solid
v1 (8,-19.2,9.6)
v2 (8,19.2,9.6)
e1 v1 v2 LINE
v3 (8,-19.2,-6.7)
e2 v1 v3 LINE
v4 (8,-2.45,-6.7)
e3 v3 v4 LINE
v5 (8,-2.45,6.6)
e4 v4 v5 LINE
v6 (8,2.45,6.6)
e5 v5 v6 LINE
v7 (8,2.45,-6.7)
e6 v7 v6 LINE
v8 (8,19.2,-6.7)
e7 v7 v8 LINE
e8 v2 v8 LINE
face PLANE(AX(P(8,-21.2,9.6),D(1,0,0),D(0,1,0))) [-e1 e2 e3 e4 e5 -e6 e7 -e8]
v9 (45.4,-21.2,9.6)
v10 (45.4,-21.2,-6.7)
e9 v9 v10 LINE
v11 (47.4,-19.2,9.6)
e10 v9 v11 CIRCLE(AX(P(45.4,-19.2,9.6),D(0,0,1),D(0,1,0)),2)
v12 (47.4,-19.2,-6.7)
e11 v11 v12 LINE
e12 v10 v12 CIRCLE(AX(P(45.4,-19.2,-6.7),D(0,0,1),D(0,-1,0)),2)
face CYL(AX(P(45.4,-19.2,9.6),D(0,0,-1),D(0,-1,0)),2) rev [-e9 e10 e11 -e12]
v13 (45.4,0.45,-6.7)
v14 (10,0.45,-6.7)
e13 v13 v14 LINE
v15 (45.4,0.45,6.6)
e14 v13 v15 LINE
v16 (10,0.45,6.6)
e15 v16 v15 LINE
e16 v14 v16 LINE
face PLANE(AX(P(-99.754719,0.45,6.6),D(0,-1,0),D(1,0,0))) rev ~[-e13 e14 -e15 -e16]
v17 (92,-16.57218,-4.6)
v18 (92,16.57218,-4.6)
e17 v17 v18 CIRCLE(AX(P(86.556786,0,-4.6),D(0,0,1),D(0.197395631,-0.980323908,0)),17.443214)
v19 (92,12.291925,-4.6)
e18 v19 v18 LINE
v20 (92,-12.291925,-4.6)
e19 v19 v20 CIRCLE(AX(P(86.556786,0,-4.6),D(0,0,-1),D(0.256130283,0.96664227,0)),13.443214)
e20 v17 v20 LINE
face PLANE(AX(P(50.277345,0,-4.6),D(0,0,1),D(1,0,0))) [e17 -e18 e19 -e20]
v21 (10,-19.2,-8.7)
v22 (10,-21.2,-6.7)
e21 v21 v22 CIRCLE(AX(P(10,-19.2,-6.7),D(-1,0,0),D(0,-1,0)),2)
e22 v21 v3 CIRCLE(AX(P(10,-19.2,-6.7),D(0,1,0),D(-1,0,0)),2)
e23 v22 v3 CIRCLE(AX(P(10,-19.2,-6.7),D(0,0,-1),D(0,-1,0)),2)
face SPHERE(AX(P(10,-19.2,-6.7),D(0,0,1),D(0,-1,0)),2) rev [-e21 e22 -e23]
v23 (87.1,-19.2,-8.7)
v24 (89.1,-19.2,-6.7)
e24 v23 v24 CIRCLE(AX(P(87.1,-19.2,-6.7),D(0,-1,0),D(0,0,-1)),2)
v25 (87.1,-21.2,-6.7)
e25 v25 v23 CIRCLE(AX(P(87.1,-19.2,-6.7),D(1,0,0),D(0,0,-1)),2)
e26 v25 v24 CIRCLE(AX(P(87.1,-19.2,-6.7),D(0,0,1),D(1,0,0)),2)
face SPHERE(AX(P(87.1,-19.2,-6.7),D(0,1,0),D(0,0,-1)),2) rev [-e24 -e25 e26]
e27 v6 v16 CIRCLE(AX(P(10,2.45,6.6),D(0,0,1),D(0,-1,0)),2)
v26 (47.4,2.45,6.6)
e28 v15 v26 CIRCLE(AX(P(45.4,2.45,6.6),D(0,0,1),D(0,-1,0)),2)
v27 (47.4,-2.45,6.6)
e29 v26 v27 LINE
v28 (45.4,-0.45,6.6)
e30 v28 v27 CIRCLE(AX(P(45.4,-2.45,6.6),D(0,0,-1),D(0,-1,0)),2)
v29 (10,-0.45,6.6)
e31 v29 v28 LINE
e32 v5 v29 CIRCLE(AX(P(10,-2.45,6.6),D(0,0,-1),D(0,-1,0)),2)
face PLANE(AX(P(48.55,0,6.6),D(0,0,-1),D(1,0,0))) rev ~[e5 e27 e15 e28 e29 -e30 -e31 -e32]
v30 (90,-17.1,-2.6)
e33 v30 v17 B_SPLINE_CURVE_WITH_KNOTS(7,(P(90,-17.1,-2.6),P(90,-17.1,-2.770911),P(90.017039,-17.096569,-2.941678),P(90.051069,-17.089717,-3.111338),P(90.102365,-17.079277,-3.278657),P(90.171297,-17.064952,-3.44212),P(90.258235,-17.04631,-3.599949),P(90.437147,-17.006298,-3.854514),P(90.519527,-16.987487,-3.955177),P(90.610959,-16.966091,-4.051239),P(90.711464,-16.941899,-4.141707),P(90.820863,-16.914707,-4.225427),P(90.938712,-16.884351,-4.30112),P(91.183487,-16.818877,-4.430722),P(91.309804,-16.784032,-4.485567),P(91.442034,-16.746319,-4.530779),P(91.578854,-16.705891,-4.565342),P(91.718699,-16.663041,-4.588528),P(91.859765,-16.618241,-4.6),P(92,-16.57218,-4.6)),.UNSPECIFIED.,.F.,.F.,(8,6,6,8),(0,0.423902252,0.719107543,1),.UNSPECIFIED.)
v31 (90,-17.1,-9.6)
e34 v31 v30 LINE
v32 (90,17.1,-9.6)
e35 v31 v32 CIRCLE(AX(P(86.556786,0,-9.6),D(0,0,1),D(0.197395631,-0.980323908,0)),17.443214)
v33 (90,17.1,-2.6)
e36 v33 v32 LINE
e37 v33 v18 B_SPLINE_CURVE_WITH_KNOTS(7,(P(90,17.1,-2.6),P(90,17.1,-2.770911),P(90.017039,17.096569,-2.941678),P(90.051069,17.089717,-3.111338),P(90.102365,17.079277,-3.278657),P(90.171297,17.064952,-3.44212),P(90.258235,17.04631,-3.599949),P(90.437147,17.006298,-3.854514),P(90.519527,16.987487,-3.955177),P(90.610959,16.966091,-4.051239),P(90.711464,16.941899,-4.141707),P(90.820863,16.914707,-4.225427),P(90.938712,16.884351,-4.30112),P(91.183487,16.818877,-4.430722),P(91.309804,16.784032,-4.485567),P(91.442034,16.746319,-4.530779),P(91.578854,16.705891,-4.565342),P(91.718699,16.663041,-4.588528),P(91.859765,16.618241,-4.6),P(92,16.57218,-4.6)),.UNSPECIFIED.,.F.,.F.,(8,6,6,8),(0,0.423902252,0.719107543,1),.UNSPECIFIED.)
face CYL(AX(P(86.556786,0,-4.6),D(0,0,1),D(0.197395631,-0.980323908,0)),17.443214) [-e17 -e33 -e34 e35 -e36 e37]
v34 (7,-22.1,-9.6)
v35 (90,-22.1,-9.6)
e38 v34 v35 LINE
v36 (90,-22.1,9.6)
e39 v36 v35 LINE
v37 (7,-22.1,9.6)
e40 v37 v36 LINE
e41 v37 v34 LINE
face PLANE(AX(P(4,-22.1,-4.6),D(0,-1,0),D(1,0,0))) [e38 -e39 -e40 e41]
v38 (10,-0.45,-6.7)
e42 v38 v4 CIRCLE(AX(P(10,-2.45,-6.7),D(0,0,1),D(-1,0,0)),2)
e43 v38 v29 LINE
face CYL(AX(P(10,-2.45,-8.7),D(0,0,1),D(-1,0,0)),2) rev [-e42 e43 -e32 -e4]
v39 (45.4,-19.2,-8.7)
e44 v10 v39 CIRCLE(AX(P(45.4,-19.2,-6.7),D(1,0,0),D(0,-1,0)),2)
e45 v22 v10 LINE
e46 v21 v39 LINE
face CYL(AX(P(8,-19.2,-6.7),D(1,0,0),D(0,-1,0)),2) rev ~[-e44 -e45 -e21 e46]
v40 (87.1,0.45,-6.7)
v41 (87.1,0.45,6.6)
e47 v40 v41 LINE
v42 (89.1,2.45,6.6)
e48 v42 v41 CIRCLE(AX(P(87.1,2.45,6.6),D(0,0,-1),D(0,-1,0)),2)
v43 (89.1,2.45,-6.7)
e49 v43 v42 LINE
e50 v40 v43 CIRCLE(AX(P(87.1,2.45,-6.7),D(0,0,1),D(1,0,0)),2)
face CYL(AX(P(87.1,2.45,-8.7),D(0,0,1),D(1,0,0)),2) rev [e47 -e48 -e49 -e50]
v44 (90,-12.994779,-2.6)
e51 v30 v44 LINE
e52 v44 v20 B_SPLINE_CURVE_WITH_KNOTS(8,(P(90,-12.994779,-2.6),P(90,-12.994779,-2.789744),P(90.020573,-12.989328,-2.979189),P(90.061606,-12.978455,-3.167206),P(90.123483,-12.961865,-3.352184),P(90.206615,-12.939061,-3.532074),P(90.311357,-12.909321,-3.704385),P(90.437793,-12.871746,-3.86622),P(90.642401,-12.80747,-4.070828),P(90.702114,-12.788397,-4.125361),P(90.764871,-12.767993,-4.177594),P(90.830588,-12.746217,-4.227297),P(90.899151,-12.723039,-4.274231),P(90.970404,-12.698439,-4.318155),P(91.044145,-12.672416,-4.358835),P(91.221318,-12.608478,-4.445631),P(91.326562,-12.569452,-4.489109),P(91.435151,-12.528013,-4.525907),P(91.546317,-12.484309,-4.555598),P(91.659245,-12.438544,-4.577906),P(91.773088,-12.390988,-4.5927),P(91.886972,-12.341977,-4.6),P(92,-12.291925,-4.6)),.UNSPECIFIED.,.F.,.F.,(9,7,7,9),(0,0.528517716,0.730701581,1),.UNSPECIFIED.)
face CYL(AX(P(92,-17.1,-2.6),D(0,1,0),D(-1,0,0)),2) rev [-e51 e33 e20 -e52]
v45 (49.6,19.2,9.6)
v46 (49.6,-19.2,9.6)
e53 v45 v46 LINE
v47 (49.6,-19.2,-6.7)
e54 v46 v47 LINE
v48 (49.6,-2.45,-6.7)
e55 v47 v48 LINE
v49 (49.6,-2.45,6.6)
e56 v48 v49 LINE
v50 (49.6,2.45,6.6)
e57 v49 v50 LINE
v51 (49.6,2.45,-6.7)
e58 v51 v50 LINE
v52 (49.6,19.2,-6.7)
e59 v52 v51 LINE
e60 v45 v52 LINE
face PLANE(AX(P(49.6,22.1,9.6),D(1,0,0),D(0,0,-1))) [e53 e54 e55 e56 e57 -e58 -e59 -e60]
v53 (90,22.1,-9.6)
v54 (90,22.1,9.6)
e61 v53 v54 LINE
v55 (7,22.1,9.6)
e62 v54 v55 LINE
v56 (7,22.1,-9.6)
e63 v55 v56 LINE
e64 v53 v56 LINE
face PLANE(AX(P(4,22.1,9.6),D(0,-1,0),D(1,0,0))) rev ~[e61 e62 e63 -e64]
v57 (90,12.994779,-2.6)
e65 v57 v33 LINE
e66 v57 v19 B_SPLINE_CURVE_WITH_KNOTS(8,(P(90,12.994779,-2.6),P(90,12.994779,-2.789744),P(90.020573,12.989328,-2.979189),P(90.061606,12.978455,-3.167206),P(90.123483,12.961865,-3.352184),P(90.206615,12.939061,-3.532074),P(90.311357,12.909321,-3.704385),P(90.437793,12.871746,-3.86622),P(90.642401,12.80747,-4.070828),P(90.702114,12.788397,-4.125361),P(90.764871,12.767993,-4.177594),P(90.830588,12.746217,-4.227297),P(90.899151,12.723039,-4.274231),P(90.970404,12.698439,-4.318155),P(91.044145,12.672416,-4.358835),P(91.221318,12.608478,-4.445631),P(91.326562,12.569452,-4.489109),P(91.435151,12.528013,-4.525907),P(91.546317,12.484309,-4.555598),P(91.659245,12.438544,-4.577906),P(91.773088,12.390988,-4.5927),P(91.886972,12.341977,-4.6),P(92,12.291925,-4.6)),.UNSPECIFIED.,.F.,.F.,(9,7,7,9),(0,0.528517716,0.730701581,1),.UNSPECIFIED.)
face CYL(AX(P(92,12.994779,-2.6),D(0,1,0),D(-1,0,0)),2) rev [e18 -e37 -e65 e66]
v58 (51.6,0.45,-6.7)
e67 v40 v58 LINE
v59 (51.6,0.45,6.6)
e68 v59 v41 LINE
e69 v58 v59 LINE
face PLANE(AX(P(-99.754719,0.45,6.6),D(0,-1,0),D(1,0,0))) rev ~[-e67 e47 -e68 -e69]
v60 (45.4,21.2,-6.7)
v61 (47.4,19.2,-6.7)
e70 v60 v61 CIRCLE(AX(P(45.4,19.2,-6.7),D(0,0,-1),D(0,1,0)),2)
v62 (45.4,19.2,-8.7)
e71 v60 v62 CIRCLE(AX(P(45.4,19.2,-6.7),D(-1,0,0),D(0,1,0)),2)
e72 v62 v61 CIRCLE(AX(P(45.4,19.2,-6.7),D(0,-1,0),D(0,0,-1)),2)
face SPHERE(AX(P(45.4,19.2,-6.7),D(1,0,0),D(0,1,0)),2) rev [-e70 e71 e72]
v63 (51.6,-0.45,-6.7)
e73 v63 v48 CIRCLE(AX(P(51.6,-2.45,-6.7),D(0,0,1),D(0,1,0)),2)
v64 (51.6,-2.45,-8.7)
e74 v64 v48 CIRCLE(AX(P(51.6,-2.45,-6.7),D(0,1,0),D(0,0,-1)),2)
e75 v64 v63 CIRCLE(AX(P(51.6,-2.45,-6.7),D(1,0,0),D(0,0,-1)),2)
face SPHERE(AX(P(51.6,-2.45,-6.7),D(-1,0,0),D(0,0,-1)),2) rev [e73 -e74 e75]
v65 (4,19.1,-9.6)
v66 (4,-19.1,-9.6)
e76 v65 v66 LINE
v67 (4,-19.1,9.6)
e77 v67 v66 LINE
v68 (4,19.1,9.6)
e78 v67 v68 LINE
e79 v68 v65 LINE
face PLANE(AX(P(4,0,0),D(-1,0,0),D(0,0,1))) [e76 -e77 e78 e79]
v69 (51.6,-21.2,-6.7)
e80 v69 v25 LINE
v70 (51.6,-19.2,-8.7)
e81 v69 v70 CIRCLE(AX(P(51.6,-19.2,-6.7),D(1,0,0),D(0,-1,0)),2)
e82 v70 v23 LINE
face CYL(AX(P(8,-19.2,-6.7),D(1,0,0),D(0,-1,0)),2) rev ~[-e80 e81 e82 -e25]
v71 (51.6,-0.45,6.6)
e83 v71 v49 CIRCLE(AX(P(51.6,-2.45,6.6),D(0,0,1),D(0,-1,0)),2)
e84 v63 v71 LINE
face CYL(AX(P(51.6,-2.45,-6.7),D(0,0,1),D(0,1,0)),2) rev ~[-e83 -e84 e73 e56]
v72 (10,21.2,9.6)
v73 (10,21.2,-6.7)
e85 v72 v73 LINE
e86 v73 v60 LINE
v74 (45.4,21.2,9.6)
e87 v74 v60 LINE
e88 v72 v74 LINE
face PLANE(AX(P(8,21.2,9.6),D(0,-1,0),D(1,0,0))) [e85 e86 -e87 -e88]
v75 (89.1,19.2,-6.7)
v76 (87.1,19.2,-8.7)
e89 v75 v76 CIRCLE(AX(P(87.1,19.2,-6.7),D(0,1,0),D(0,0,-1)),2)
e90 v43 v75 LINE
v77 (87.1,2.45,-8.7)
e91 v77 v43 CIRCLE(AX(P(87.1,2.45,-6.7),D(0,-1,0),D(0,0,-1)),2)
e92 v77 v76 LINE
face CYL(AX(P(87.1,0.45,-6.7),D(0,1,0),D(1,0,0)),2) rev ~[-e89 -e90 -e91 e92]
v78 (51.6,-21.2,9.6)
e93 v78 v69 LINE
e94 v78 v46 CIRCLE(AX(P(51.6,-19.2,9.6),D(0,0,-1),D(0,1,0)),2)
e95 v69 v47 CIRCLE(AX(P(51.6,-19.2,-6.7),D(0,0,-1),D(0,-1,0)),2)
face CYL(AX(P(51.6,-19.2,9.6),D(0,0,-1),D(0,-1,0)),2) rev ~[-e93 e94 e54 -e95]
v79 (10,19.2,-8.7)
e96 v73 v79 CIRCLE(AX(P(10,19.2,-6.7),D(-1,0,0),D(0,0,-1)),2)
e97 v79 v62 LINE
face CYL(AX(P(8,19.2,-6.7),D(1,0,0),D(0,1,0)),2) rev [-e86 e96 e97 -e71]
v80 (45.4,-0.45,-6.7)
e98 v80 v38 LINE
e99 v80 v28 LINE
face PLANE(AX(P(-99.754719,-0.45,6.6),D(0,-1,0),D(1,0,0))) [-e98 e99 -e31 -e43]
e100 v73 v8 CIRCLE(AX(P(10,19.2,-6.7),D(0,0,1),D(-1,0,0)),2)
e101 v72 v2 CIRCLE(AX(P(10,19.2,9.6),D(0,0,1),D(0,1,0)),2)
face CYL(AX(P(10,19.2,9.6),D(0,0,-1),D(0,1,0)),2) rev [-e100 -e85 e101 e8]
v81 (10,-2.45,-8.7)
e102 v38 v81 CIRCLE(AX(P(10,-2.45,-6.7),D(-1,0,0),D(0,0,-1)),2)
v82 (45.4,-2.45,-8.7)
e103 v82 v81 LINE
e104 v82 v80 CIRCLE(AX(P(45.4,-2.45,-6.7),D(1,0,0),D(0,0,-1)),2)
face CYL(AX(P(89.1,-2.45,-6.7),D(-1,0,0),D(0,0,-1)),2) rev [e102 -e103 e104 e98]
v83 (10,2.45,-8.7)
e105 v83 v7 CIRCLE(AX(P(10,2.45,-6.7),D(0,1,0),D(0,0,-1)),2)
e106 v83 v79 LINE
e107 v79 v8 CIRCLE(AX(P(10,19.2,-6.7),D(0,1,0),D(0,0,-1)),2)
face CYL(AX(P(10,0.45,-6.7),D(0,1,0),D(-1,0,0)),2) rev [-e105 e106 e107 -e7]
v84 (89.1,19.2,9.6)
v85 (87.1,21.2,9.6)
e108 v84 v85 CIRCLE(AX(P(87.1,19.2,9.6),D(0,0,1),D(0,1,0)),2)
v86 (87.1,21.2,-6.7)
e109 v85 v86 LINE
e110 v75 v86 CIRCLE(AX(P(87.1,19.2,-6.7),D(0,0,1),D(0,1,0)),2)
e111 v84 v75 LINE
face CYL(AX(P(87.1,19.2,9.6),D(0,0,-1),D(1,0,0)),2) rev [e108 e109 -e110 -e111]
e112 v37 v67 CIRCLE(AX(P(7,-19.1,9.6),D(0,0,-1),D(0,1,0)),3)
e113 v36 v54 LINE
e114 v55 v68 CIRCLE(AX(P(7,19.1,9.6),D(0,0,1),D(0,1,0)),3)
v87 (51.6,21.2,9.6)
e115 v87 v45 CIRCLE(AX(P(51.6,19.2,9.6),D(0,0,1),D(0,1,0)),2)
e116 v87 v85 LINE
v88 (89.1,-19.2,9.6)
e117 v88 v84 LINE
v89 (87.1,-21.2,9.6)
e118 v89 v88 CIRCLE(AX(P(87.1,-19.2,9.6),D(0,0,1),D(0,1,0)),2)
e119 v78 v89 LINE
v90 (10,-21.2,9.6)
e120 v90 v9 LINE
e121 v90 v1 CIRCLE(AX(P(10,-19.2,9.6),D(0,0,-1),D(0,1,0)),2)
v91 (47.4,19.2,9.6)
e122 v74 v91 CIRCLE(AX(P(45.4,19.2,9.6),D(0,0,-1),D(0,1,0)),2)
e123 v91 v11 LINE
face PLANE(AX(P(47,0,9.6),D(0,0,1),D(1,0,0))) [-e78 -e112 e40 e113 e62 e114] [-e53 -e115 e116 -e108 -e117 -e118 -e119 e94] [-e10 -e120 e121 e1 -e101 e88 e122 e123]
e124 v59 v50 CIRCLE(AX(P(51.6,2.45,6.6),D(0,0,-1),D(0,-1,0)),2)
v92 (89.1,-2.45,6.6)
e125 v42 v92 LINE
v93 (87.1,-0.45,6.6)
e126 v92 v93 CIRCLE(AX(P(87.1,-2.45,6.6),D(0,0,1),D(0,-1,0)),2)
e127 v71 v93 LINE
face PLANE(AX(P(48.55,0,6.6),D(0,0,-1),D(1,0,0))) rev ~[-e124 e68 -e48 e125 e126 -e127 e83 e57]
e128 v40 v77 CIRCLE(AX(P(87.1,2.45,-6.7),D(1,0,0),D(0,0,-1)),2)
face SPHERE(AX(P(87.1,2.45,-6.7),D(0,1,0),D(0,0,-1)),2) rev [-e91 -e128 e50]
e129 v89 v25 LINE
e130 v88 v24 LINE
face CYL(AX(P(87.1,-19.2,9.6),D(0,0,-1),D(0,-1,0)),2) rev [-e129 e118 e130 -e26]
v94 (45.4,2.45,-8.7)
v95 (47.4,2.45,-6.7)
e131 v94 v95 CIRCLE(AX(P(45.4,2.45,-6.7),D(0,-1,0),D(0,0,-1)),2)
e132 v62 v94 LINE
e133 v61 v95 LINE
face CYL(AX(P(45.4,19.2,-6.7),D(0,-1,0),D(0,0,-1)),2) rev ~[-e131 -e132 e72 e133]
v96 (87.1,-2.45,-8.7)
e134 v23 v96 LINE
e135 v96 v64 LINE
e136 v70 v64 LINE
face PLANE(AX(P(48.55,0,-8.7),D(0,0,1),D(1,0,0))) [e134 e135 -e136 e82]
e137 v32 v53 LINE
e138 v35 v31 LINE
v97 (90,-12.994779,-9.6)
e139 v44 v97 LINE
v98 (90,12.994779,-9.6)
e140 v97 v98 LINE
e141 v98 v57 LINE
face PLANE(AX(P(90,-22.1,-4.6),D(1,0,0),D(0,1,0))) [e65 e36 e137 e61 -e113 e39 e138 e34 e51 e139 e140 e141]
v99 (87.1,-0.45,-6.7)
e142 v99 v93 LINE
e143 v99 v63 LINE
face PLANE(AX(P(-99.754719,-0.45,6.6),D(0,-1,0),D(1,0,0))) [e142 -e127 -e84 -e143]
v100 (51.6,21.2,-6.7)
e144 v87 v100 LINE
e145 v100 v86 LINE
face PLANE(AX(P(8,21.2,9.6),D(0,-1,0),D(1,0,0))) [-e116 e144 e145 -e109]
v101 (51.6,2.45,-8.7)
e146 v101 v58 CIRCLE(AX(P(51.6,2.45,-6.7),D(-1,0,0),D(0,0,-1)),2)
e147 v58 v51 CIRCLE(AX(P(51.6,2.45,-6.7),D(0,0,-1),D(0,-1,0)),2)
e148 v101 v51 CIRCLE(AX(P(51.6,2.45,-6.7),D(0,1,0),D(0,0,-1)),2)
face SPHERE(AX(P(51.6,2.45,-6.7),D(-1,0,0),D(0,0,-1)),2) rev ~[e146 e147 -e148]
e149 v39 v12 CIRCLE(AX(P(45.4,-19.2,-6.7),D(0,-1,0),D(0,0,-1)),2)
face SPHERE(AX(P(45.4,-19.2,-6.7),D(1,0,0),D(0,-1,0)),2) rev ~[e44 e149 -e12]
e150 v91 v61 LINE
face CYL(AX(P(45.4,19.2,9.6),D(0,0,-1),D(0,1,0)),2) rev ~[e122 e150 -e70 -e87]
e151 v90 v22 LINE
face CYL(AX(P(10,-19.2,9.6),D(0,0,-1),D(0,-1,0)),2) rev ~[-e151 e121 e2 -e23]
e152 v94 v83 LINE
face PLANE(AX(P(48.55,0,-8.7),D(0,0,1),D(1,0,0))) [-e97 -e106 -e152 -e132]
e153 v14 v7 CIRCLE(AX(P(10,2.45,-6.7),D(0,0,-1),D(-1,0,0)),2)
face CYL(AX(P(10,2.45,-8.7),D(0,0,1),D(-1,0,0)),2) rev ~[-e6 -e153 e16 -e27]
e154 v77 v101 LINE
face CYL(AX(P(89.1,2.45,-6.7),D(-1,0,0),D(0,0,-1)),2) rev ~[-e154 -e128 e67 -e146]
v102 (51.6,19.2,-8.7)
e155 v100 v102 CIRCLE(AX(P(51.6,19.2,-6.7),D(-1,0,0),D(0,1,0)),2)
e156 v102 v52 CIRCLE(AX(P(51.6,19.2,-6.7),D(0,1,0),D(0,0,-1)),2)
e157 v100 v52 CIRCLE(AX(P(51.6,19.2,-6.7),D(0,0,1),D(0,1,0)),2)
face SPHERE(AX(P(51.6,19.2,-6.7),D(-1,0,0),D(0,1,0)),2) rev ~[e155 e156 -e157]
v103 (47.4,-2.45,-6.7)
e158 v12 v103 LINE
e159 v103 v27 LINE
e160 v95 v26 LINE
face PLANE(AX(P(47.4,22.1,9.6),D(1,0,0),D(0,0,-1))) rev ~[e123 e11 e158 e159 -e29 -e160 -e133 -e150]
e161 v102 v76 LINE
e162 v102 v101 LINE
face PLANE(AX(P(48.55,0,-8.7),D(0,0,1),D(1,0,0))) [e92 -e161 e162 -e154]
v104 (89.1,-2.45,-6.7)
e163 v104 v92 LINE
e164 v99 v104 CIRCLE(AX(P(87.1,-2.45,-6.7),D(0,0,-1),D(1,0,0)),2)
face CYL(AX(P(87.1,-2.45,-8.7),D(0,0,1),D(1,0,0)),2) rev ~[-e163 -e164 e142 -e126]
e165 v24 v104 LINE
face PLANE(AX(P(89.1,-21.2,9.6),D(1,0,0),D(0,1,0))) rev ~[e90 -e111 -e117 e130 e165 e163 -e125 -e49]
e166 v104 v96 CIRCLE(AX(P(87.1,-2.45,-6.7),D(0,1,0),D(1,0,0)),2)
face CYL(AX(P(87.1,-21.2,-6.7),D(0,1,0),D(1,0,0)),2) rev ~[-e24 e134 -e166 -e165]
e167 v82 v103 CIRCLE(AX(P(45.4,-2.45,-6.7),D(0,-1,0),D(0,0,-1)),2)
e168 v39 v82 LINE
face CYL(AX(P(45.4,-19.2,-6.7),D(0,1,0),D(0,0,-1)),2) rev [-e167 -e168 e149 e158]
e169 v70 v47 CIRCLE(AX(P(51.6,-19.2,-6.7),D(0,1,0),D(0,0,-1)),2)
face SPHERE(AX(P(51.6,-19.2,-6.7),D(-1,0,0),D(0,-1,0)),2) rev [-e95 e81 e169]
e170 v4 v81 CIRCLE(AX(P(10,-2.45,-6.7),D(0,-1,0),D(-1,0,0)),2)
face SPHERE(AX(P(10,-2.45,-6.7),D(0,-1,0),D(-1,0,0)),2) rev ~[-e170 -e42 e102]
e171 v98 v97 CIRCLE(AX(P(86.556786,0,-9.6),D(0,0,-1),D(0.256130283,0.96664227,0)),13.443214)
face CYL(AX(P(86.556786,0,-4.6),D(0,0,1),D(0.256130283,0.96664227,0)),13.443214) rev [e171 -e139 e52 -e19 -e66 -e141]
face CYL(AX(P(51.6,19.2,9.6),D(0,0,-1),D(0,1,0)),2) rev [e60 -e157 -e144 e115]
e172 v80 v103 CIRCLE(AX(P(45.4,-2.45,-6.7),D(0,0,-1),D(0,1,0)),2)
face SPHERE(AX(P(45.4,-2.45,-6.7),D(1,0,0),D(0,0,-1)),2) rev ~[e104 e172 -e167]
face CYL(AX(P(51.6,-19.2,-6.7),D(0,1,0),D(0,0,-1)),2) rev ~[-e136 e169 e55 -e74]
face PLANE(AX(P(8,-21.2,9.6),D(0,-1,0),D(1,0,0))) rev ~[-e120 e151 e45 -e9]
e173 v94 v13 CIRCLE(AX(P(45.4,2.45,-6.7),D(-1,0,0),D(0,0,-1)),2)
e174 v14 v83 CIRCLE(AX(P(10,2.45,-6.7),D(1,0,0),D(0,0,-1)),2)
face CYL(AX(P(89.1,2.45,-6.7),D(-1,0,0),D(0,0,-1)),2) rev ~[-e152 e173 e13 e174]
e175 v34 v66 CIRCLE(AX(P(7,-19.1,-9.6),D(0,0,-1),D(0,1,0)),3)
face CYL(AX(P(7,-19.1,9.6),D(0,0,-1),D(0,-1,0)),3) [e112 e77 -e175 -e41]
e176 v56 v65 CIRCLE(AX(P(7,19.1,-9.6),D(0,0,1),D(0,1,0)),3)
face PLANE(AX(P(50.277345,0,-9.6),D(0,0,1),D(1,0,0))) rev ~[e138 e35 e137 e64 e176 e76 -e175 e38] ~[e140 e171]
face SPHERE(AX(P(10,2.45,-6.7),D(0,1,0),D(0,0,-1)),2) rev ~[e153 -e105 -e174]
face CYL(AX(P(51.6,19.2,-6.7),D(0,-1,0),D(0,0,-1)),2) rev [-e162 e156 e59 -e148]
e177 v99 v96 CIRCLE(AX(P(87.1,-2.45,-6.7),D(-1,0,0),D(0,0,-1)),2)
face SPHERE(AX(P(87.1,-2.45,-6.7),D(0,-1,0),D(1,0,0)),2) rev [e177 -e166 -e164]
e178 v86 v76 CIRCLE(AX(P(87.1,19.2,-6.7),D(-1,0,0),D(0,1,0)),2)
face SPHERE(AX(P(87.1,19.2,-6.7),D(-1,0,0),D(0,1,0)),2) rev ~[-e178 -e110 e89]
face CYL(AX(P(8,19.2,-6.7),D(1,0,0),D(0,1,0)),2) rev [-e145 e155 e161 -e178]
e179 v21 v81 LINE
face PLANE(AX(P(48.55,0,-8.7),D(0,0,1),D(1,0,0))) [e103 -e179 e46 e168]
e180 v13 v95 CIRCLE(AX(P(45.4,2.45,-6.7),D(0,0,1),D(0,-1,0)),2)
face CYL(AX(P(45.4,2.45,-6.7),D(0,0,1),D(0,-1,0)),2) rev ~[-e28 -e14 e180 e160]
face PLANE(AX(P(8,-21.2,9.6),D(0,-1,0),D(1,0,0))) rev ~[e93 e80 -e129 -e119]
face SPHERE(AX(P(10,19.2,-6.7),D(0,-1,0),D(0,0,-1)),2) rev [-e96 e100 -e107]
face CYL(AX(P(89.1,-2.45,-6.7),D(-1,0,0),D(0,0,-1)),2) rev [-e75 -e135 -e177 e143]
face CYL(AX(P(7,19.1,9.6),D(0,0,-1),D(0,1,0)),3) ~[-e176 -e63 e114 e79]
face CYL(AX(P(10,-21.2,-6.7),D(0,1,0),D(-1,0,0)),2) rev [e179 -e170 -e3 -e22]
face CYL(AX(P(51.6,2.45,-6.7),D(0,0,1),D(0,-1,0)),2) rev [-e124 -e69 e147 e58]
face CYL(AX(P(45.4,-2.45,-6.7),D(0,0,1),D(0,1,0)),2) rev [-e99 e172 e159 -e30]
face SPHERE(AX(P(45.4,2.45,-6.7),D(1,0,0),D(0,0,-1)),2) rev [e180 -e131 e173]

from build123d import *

# Parameters (mm, degrees)
SKETCH_1_W                  = 86
SKETCH_1_H                  = 44.2
EXTRUDE_1_DEPTH             = 14.2
EXTRUDE_2_DEPTH             = 5
SKETCH_3_W                  = 81.1
SKETCH_3_H                  = 42.4
CUT_EXTRUDE_1_DEPTH         = 18.3
HOLE_WIZARD_8_3_8_3_1_D     = 8.3
HOLE_WIZARD_8_3_8_3_1_DEPTH = 3.2
RIB_1_REACH                 = 108.755
SKETCH_6_WALL_W             = 296.60943773
SKETCH_6_WALL_H             = 0.9
FILLET_1_R                  = 3
EXTRUDE_START               = -3.5
SKETCH_7_R                  = 4.15
EXTRUDE_3_DEPTH             = 3.5
FILLET_2_R                  = 2
SKETCH_9_W                  = 2.2
SKETCH_9_H                  = 19.2
EXTRUDE_4_DEPTH             = 44
FILLET_3_R                  = 2


with BuildPart() as part:
    # Эскиз1 → Бобышка-Вытянуть1 (new body)
    with BuildSketch(Plane.XY.offset(9.6)):
        with Locations((47, 0)):
            Rectangle(SKETCH_1_W, SKETCH_1_H)
    extrude(amount=-EXTRUDE_1_DEPTH)

    # Эскиз2 → Бобышка-Вытянуть2 (add)
    with BuildSketch(Plane(origin=(0, 0, -4.6), x_dir=(-1, 0, 0), z_dir=(0, 0, -1))):
        with BuildLine():
            Line((-90, -22.1), (-90, -17.1))
            ThreePointArc((-90, -17.1), (-104, 0), (-90, 17.1))
            Line((-90, 17.1), (-90, 22.1))
            Line((-90, 22.1), (-4, 22.1))
            Line((-4, 22.1), (-4, -22.1))
            Line((-4, -22.1), (-90, -22.1))
        make_face()
        with BuildLine():
            Line((-90, -12.994779171), (-90, 12.994779171))
            ThreePointArc((-90, 12.994779171), (-100, 0), (-90, -12.994779171))
        make_face(mode=Mode.SUBTRACT)
    extrude(amount=EXTRUDE_2_DEPTH)

    # Эскиз3 → Вырез-Вытянуть1 (cut)
    with BuildSketch(Plane.XY.offset(9.6)):
        with Locations((48.55, 0)):
            Rectangle(SKETCH_3_W, SKETCH_3_H)
    extrude(amount=-CUT_EXTRUDE_1_DEPTH, mode=Mode.SUBTRACT)

    # Диаметр отверстия Ø8.3 (8.3)1
    with Locations(Plane.ZY.offset(-4)):
        with Locations((0, 0)):
            Hole(HOLE_WIZARD_8_3_8_3_1_D / 2, depth=HOLE_WIZARD_8_3_8_3_1_DEPTH)

    # Эскиз6 wall → Ребро1 (add, up to next)
    with BuildSketch(Plane(origin=(48.55, 0, 6.6), x_dir=(1, 0, 0), z_dir=(0, 0, -1)), mode=Mode.PRIVATE) as rib_1_sk1:
        Rectangle(SKETCH_6_WALL_W, SKETCH_6_WALL_H)
    rib_1_tool1 = extrude(rib_1_sk1.sketch, amount=RIB_1_REACH, mode=Mode.PRIVATE) - part.part
    add(rib_1_tool1.solids().sort_by_distance((48.55, 0, 6.6))[0])

    # Скругление1
    fillet_1_edges = [part.edges().sort_by_distance(p)[0] for p in [
        (4, -22.1, 0),
        (4, 22.1, 0),
    ]]
    fillet(fillet_1_edges, radius=FILLET_1_R)

    # Эскиз7 → Бобышка-Вытянуть3 (add)
    with BuildSketch(Plane.ZY.offset(-4).offset(EXTRUDE_START)):
        Circle(SKETCH_7_R)
    extrude(amount=EXTRUDE_3_DEPTH)

    # Скругление2
    fillet_2_edges = [part.edges().sort_by_distance(p)[0] for p in [
        (90, -15.047389586, -4.6),
        (90, 15.047389586, -4.6),
        (8, 10.825, -8.7),
        (8, -21.2, 0.45),
        (48.55, 21.2, -8.7),
        (8, 21.2, 0.45),
        (89.1, -10.825, -8.7),
        (89.1, 21.2, 0.45),
        (48.55, -21.2, -8.7),
        (89.1, -21.2, 0.45),
        (8, -10.825, -8.7),
        (89.1, 10.825, -8.7),
        (48.55, 0.45, -8.7),
        (8, 0.45, -1.05),
        (89.1, 0.45, -1.05),
        (8, -0.45, -1.05),
        (89.1, -0.45, -1.05),
        (48.55, -0.45, -8.7),
    ]]
    fillet(fillet_2_edges, radius=FILLET_2_R)

    # Эскиз9 → Бобышка-Вытянуть4 (add)
    with BuildSketch(Plane(origin=(0, 22.1, 0), x_dir=(1, 0, 0), z_dir=(0, 1, 0))):
        with Locations((48.5, 0)):
            Rectangle(SKETCH_9_W, SKETCH_9_H)
    extrude(amount=-EXTRUDE_4_DEPTH)

    # Скругление3
    fillet_3_edges = [part.edges().sort_by_distance(p)[0] for p in [
        (47.4, 1.035786438, -8.114213562),
        (49.6, 1.035786438, -8.114213562),
        (49.6, -10.825, -8.7),
        (49.6, 0.45, -0.05),
        (49.6, 10.825, -8.7),
        (47.4, 10.825, -8.7),
        (47.4, 0.45, -0.05),
        (47.4, -10.825, -8.7),
        (49.6, -20.614213562, -8.114213562),
        (49.6, -21.2, 1.45),
        (49.6, 21.2, 1.45),
        (49.6, 20.614213562, -8.114213562),
        (49.6, -0.45, -0.05),
        (49.6, -1.035786438, -8.114213562),
        (47.4, -21.2, 1.45),
        (47.4, -20.614213562, -8.114213562),
        (47.4, -1.035786438, -8.114213562),
        (47.4, -0.45, -0.05),
        (47.4, 20.614213562, -8.114213562),
        (47.4, 21.2, 1.45),
    ]]
    fillet(fillet_3_edges, radius=FILLET_3_R)


solid = part.part
